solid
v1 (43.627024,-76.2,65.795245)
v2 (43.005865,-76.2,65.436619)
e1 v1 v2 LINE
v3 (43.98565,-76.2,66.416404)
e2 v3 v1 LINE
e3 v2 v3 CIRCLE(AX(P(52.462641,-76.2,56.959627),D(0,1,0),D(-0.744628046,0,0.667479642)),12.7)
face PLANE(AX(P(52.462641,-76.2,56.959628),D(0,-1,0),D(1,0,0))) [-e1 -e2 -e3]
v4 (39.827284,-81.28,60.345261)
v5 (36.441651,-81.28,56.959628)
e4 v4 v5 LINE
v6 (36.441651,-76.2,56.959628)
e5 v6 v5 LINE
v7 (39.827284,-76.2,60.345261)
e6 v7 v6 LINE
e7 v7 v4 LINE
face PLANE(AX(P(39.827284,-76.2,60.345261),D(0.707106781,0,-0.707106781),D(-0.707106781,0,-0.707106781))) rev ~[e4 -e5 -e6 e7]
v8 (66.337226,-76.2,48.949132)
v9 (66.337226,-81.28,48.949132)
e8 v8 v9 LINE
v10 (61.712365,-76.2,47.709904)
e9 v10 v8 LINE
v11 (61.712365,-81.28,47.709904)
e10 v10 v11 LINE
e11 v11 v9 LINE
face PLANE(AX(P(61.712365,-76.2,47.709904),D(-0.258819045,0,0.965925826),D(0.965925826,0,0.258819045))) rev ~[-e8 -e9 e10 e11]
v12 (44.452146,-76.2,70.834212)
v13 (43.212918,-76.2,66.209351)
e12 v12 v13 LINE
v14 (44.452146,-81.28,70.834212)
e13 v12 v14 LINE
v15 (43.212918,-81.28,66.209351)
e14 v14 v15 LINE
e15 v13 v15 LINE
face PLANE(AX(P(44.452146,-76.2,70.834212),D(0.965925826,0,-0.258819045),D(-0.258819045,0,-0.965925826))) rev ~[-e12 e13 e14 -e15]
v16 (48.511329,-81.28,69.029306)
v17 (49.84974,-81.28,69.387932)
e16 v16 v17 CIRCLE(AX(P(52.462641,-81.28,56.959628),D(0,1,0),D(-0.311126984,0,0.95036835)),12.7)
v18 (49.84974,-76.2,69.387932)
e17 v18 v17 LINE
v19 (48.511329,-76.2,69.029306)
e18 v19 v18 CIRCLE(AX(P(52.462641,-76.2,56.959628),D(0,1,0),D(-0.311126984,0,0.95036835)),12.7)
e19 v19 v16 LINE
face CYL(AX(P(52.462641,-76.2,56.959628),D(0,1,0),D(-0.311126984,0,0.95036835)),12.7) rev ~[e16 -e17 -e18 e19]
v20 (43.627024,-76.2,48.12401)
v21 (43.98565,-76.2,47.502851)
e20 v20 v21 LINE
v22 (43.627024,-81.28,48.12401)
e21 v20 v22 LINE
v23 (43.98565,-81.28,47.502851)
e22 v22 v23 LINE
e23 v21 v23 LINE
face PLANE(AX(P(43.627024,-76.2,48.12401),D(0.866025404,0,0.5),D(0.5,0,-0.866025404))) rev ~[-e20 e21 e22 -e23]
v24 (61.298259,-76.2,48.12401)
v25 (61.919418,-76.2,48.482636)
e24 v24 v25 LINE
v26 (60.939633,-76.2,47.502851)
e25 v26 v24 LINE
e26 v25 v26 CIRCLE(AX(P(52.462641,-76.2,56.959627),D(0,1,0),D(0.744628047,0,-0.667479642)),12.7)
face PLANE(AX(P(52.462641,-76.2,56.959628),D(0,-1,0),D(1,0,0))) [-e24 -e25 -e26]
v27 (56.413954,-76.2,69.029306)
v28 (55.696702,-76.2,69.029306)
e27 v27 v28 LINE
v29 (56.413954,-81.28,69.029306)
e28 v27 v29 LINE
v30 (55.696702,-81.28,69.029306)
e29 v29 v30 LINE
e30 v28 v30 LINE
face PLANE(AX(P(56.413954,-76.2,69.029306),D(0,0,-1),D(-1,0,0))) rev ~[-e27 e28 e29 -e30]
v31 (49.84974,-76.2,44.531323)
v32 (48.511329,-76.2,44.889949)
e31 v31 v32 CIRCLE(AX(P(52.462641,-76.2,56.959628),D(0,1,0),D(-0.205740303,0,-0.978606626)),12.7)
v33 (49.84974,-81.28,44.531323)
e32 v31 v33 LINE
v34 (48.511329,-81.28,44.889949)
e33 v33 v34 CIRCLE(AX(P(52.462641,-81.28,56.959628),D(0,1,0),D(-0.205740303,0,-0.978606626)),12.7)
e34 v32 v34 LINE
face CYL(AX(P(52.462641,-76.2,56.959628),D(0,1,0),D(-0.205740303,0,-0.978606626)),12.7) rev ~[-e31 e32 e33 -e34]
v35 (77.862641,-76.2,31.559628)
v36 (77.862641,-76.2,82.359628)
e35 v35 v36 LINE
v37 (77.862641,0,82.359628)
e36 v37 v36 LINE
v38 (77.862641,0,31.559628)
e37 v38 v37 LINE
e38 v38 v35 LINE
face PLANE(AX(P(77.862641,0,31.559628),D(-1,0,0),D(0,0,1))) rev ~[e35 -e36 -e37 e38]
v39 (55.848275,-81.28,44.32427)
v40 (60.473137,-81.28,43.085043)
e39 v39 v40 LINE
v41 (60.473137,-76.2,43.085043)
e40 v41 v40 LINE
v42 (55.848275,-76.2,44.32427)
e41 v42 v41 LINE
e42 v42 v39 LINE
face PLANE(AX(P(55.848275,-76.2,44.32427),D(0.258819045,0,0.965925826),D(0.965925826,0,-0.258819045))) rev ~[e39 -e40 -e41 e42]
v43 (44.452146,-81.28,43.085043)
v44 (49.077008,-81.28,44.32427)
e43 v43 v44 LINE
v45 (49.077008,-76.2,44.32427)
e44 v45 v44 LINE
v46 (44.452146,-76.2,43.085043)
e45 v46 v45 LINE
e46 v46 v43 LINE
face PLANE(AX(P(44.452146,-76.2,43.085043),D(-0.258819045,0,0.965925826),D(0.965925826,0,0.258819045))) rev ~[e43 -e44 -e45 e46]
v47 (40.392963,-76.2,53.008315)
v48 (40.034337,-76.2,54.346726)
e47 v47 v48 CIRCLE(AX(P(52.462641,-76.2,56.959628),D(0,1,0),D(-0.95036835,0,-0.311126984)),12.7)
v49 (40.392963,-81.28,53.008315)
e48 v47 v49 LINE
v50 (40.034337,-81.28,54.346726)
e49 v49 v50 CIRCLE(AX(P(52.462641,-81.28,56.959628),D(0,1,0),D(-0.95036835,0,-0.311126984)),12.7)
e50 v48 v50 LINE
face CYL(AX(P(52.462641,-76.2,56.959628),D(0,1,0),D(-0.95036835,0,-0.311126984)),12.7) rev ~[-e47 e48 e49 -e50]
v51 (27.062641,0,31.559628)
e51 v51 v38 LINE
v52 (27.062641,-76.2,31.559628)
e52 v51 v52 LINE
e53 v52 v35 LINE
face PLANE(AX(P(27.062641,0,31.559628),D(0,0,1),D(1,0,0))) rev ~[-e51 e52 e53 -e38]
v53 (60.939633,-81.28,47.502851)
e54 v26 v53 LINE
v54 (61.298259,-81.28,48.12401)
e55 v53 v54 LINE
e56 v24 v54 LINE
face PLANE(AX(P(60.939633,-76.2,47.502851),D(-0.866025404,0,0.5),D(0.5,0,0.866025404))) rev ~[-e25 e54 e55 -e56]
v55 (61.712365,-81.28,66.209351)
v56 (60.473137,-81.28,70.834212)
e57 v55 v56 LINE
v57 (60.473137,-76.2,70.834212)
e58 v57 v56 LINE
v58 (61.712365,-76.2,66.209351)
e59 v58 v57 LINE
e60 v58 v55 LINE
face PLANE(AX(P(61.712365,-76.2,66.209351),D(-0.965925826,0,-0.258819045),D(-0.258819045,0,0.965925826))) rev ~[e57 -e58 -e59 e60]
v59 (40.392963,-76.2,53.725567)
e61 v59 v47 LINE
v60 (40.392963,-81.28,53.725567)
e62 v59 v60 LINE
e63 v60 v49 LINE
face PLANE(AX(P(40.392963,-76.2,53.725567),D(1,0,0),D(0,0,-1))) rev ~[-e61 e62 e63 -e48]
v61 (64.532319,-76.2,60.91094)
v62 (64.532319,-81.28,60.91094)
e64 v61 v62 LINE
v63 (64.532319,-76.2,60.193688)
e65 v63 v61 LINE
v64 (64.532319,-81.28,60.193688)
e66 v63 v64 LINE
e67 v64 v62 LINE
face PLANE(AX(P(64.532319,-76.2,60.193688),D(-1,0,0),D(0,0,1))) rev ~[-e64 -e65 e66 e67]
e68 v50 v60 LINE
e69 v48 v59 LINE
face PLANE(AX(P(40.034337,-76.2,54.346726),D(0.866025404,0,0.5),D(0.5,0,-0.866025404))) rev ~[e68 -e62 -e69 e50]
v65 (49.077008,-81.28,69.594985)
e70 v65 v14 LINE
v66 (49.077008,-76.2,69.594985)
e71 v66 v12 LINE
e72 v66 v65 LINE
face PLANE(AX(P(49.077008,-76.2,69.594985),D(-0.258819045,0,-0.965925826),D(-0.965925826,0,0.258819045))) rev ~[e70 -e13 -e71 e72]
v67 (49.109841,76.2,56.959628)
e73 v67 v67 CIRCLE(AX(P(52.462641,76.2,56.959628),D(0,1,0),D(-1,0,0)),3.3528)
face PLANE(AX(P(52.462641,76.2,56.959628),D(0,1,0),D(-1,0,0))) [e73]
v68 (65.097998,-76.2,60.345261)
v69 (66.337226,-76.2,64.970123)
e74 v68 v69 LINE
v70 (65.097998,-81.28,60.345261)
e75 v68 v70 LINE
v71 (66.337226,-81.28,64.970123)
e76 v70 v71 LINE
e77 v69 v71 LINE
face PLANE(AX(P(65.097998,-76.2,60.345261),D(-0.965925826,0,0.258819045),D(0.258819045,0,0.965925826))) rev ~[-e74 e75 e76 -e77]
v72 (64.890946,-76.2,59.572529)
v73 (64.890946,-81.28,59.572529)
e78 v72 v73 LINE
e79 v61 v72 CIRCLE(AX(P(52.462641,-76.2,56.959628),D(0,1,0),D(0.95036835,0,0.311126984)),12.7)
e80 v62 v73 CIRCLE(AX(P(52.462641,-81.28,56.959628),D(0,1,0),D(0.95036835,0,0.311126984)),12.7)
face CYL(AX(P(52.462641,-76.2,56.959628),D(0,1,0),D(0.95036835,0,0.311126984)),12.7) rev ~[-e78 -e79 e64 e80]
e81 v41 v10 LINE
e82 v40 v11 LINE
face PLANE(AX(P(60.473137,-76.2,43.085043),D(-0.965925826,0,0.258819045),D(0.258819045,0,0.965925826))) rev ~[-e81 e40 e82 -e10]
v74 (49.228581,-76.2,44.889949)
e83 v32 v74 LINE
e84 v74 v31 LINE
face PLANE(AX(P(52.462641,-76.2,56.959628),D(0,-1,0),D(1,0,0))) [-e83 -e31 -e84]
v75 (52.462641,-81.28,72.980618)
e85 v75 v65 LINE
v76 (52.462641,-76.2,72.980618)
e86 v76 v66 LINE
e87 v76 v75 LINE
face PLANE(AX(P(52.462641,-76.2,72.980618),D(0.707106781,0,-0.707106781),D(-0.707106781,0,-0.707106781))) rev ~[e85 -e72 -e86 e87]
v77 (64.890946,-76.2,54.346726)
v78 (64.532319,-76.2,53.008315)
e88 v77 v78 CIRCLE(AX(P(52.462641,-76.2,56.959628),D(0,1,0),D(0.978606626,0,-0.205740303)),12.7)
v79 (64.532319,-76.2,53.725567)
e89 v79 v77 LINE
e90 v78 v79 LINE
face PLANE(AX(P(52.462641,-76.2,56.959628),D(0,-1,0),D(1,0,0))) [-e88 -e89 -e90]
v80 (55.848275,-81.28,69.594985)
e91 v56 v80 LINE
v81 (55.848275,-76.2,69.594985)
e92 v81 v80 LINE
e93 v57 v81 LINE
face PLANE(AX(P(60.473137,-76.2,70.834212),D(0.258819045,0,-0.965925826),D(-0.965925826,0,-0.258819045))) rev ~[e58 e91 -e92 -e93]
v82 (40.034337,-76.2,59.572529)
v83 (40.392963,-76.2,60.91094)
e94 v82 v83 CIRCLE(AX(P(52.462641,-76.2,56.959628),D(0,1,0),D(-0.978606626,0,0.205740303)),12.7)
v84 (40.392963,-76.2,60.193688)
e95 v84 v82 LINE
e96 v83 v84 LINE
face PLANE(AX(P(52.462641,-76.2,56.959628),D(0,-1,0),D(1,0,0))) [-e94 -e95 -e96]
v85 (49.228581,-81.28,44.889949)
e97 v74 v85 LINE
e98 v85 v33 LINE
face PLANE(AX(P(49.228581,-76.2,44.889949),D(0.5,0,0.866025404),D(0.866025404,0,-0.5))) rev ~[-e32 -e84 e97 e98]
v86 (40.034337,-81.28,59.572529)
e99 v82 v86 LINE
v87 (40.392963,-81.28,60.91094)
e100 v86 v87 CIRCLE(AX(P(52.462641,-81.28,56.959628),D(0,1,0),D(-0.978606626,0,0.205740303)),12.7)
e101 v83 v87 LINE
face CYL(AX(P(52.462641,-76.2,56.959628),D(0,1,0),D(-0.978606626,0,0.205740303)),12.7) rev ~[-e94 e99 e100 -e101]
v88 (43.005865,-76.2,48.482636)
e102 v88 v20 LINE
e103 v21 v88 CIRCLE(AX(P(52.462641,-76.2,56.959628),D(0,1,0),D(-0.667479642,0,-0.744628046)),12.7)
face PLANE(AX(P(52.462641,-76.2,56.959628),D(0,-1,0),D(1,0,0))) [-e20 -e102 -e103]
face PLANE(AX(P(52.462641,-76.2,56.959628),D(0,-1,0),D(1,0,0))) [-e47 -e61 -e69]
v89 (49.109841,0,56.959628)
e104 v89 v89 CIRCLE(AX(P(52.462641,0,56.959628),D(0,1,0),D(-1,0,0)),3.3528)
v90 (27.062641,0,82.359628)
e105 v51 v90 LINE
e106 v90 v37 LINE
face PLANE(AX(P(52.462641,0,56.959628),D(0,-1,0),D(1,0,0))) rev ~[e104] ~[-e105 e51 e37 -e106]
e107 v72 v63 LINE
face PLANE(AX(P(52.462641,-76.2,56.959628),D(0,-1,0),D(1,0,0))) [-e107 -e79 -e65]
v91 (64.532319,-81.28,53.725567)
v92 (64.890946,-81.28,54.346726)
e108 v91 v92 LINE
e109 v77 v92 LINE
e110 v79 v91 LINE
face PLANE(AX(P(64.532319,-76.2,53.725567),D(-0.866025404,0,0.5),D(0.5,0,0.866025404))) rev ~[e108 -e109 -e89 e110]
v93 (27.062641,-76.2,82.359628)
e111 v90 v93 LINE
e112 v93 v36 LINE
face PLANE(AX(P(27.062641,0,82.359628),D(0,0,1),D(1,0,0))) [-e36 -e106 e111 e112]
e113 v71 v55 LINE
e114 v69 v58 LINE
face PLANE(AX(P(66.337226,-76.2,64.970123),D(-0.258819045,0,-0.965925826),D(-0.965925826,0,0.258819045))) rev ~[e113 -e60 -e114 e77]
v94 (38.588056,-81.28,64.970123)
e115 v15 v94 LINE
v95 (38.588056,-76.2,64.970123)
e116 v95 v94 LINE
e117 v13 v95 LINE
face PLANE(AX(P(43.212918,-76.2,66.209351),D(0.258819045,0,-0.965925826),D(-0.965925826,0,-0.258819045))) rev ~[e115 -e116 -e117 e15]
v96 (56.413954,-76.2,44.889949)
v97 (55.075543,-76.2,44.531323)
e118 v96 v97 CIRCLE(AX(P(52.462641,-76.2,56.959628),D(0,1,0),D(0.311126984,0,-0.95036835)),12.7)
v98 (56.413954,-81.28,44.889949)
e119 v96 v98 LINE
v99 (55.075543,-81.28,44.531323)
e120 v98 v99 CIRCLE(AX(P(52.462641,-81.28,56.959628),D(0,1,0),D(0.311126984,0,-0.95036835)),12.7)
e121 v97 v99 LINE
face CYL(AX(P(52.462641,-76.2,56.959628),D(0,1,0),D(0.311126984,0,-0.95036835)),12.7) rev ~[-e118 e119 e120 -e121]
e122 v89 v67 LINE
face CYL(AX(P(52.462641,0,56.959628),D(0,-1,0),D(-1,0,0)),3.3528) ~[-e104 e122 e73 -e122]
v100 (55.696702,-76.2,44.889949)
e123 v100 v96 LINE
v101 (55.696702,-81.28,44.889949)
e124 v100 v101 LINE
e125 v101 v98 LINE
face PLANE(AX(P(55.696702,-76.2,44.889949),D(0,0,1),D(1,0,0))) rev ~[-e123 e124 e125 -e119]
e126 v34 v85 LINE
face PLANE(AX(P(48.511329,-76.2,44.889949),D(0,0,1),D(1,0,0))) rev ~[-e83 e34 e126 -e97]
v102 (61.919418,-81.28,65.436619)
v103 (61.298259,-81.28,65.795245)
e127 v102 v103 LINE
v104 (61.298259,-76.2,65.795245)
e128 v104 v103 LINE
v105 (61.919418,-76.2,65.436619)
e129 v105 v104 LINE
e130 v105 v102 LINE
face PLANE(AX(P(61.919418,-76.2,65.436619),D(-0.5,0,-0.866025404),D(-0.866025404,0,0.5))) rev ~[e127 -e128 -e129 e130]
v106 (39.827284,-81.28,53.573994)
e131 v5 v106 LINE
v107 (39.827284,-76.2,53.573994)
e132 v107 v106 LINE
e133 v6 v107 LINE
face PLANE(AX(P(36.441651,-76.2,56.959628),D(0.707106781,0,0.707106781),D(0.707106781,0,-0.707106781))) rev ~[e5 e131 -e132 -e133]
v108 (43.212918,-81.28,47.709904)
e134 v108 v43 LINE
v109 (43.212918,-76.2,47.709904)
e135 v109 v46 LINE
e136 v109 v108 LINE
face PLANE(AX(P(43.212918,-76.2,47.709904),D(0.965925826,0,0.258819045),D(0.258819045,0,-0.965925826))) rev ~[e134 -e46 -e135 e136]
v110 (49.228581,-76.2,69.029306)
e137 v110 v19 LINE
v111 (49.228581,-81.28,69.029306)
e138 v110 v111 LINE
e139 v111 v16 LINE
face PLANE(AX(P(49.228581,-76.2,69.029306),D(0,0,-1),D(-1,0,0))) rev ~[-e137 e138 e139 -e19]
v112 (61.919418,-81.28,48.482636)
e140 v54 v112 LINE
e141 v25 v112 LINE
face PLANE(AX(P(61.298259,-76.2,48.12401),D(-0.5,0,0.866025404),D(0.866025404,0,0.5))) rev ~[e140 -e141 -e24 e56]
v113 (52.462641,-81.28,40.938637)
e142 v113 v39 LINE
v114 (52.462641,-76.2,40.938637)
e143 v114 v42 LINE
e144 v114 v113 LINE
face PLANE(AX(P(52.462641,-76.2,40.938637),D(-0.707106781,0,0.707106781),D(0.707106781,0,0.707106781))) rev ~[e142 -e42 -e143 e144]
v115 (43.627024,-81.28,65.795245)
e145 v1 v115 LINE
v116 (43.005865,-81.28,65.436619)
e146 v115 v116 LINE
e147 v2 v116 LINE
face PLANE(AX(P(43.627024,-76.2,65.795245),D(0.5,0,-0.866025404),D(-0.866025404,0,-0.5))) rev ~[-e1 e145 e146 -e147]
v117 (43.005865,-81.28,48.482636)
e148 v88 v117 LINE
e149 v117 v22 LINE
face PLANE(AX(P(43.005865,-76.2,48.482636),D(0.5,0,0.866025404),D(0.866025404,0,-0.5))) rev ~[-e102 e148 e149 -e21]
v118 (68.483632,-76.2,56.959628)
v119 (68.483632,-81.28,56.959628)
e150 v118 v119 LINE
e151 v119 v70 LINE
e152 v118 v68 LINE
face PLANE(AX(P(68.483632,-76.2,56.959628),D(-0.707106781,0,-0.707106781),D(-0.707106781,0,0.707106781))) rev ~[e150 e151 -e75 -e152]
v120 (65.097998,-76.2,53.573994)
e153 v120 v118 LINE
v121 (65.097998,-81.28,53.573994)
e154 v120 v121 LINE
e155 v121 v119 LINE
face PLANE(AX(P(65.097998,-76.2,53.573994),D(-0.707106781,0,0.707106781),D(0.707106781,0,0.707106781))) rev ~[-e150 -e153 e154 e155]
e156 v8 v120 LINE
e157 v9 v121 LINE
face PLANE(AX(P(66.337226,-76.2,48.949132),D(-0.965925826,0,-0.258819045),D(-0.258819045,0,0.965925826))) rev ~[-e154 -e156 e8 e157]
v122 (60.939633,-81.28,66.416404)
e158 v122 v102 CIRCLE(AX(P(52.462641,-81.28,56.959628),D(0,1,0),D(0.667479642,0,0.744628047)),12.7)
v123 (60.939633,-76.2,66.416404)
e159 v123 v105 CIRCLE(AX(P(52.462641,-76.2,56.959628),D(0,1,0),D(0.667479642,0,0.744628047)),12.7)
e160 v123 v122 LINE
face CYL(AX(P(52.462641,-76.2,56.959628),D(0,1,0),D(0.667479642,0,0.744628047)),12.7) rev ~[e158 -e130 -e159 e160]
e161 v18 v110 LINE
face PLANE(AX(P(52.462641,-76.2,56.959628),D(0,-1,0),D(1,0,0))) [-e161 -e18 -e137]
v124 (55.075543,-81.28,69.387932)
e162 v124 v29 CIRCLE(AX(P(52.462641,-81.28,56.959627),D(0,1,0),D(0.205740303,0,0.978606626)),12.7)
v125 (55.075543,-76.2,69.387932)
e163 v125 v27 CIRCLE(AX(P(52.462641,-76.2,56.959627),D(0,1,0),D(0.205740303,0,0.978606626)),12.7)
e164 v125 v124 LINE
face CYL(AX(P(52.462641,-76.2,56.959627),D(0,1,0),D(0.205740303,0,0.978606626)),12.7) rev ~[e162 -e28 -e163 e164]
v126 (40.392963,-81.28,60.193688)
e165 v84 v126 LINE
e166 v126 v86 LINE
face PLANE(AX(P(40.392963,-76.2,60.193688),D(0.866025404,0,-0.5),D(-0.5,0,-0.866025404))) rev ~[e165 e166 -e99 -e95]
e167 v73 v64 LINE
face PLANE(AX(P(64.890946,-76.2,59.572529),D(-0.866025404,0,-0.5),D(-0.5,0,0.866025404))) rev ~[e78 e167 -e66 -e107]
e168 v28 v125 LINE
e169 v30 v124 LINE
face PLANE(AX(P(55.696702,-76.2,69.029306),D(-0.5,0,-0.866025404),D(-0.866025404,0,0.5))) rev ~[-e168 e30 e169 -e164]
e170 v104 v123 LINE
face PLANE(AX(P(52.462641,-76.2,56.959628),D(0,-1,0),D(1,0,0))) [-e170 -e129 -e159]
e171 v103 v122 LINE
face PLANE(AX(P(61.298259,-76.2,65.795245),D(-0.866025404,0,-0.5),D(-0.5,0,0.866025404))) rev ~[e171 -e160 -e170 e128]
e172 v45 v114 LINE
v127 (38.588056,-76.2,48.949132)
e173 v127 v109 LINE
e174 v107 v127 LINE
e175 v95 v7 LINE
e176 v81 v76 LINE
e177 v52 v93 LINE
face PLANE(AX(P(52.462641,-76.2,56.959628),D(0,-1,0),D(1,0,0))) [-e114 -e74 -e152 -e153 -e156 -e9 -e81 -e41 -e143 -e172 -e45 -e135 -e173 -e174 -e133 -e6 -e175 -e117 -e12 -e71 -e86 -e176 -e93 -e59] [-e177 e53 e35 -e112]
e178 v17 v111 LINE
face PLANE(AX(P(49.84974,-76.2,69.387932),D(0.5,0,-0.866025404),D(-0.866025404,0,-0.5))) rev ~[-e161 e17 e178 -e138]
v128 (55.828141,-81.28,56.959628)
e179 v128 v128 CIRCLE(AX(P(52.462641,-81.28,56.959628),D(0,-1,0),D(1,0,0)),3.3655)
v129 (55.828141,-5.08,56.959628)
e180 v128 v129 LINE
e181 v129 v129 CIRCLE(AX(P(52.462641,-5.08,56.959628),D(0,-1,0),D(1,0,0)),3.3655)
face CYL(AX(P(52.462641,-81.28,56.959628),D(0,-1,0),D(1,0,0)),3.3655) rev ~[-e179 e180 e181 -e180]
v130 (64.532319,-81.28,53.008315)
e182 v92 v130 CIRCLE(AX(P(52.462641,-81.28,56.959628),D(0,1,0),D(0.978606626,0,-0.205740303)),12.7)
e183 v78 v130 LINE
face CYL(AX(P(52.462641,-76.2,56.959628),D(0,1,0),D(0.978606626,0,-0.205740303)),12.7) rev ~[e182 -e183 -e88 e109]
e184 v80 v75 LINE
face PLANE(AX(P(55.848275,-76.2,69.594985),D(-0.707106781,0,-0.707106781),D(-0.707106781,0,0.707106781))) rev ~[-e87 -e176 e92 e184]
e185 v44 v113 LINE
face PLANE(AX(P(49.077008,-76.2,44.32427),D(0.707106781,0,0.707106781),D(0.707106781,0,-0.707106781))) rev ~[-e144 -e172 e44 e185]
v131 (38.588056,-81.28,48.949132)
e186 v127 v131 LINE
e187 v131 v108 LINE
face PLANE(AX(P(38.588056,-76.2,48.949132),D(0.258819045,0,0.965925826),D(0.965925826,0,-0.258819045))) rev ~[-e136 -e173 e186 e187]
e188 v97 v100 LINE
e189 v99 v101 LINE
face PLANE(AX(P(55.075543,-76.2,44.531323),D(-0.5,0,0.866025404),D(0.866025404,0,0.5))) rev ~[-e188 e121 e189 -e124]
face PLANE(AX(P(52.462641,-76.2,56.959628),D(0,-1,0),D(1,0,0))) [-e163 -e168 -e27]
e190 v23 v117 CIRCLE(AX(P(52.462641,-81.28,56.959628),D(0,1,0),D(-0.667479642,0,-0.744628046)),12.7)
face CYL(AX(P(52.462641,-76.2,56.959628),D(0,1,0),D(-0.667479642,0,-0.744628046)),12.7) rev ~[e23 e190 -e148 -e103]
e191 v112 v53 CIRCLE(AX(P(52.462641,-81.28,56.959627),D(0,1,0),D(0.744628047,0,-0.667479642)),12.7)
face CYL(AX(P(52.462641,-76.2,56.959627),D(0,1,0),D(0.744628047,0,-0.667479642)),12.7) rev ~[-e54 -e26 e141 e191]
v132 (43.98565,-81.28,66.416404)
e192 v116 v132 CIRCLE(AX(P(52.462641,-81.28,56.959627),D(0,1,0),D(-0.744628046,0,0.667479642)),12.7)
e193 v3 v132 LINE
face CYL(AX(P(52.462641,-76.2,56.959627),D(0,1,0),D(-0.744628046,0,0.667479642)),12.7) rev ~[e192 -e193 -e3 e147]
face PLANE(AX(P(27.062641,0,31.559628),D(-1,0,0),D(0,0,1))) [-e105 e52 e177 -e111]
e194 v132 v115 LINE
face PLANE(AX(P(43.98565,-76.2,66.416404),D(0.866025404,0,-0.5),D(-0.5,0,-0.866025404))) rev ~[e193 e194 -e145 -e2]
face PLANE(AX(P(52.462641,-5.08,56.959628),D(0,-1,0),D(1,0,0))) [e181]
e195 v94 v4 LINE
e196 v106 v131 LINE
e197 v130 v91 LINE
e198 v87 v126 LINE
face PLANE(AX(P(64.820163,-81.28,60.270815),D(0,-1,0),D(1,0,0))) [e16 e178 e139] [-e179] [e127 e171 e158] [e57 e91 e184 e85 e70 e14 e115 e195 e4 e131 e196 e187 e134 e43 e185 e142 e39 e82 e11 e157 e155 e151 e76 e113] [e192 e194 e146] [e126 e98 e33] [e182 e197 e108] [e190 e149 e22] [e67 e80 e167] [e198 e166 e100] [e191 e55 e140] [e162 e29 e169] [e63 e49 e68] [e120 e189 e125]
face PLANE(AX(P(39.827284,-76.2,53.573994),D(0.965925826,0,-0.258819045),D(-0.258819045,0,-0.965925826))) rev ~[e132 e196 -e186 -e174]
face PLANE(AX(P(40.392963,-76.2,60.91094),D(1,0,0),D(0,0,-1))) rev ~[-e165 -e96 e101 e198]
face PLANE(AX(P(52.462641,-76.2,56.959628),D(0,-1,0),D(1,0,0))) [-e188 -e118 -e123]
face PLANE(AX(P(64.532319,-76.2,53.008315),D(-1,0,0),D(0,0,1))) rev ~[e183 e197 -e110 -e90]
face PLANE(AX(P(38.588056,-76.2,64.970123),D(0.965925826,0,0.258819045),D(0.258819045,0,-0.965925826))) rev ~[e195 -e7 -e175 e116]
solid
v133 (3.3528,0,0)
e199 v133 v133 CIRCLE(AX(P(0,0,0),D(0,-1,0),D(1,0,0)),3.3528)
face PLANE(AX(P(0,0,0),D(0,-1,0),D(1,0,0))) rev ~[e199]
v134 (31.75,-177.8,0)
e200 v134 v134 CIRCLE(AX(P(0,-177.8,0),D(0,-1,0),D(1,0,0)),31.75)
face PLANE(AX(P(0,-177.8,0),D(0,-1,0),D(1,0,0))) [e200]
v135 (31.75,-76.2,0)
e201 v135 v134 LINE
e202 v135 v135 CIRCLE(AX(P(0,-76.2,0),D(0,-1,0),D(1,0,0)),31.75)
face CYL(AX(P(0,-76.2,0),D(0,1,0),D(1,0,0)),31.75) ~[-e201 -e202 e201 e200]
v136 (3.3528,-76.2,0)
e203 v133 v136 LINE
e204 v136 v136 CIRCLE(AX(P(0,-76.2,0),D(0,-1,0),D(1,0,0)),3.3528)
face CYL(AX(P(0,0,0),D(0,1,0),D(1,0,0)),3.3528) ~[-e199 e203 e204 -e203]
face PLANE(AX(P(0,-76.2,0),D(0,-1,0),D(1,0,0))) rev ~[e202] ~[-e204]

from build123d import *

# Parameters (mm, degrees)
F0_R      = 3.3528
F1_DEPTH  = 76.2
F2_R      = 31.75
F3_DEPTH  = 101.6
F4_W      = 50.8
F4_H      = 50.8
F5_DEPTH  = 76.2
F6_R      = 3.3528
F7_DEPTH  = 76.2
F9_DEPTH  = 5.08
F10_R     = 3.3655
F11_DEPTH = 76.2


with BuildPart() as f1:
    # F0 (on Front) → F1 (new body)
    with BuildSketch(Plane.XZ):
        Circle(F0_R)
    extrude(amount=F1_DEPTH)

    # F2 (on face) → F3 (join)
    with BuildSketch(Plane.XZ.offset(76.2)):
        Circle(F2_R)
    extrude(amount=F3_DEPTH)


with BuildPart() as f5:
    # F4 (on Front) → F5 (new body)
    with BuildSketch(Plane.XZ):
        with Locations((52.4626414567, 56.9596275032)):
            Rectangle(F4_W, F4_H)
    extrude(amount=F5_DEPTH)

    # F6 (on face) → F7 (join)
    with BuildSketch(Plane(origin=(0, 0, 0), x_dir=(-1, 0, 0), z_dir=(0, 1, 0))):
        with Locations((-52.4626414567, 56.9596275032)):
            Circle(F6_R)
    extrude(amount=F7_DEPTH)

    # F8 (on face) → F9 (join)
    with BuildSketch(Plane.XZ.offset(76.2)):
        with BuildLine():
            ThreePointArc((64.5323194972, 60.9109401964), (64.7298994506, 60.246629376), (64.8909456019, 59.5725293527))
            Line((64.8909456019, 59.5725293527), (65.09799848, 60.3452612136))
            Line((65.09799848, 60.3452612136), (64.5323194972, 60.9109401964))
        make_face()
        with BuildLine():
            ThreePointArc((60.9396329086, 66.416403694), (61.4428975778, 65.9398836242), (61.9194176476, 65.436618955))
            Line((61.9194176476, 65.436618955), (61.7123647695, 66.209350816))
            Line((61.7123647695, 66.209350816), (60.9396329086, 66.416403694))
        make_face()
        with BuildLine():
            ThreePointArc((55.0755433063, 69.3879316483), (55.7496433295, 69.226885497), (56.41395415, 69.0293055436))
            Line((56.41395415, 69.0293055436), (55.8482751672, 69.5949845264))
            Line((55.8482751672, 69.5949845264), (55.0755433063, 69.3879316483))
        make_face()
        with BuildLine():
            Line((49.0770077463, 69.5949845264), (48.5113287635, 69.0293055436))
            ThreePointArc((48.5113287635, 69.0293055436), (49.1756395839, 69.226885497), (49.8497396072, 69.3879316483))
            Line((49.8497396072, 69.3879316483), (49.0770077463, 69.5949845264))
        make_face()
        with BuildLine():
            ThreePointArc((43.0058652658, 65.436618955), (43.4823853357, 65.9398836242), (43.9856500048, 66.416403694))
            Line((43.9856500048, 66.416403694), (43.2129181439, 66.209350816))
            Line((43.2129181439, 66.209350816), (43.0058652658, 65.436618955))
        make_face()
        with BuildLine():
            ThreePointArc((40.0343373116, 59.5725293527), (40.1953834629, 60.246629376), (40.3929634163, 60.9109401964))
            Line((40.3929634163, 60.9109401964), (39.8272844335, 60.3452612136))
            Line((39.8272844335, 60.3452612136), (40.0343373116, 59.5725293527))
        make_face()
        with BuildLine():
            Line((39.8272844335, 53.5739937927), (40.3929634163, 53.0083148099))
            ThreePointArc((40.3929634163, 53.0083148099), (40.1953834629, 53.6726256304), (40.0343373116, 54.3467256536))
            Line((40.0343373116, 54.3467256536), (39.8272844335, 53.5739937927))
        make_face()
        with BuildLine():
            Line((43.2129181439, 47.7099041904), (43.9856500048, 47.5028513123))
            ThreePointArc((43.9856500048, 47.5028513123), (43.4823853357, 47.9793713821), (43.0058652658, 48.4826360513))
            Line((43.0058652658, 48.4826360513), (43.2129181439, 47.7099041904))
        make_face()
        with BuildLine():
            Line((49.0770077463, 44.3242704799), (49.8497396072, 44.531323358))
            ThreePointArc((49.8497396072, 44.531323358), (49.1756395839, 44.6923695093), (48.5113287635, 44.8899494627))
            Line((48.5113287635, 44.8899494627), (49.0770077463, 44.3242704799))
        make_face()
        with BuildLine():
            Line((55.8482751672, 44.3242704799), (56.41395415, 44.8899494627))
            ThreePointArc((56.41395415, 44.8899494627), (55.7496433295, 44.6923695093), (55.0755433063, 44.531323358))
            Line((55.0755433063, 44.531323358), (55.8482751672, 44.3242704799))
        make_face()
        with BuildLine():
            Line((61.7123647695, 47.7099041904), (61.9194176476, 48.4826360513))
            ThreePointArc((61.9194176476, 48.4826360513), (61.4428975778, 47.9793713821), (60.9396329086, 47.5028513123))
            Line((60.9396329086, 47.5028513123), (61.7123647695, 47.7099041904))
        make_face()
        with BuildLine():
            Line((65.09799848, 53.5739937927), (64.8909456019, 54.3467256536))
            ThreePointArc((64.8909456019, 54.3467256536), (64.7298994506, 53.6726256304), (64.5323194972, 53.0083148099))
            Line((64.5323194972, 53.0083148099), (65.09799848, 53.5739937927))
        make_face()
        with BuildLine():
            ThreePointArc((61.9194176476, 65.436618955), (63.4611640848, 63.3096275032), (64.5323194972, 60.9109401964))
            Line((64.5323194972, 60.9109401964), (65.09799848, 60.3452612136))
            Line((65.09799848, 60.3452612136), (66.3372264259, 64.97012287))
            Line((66.3372264259, 64.97012287), (61.7123647695, 66.209350816))
            Line((61.7123647695, 66.209350816), (61.9194176476, 65.436618955))
        make_face()
        with BuildLine():
            ThreePointArc((56.41395415, 69.0293055436), (58.8126414567, 67.9581501312), (60.9396329086, 66.416403694))
            Line((60.9396329086, 66.416403694), (61.7123647695, 66.209350816))
            Line((61.7123647695, 66.209350816), (60.4731368236, 70.8342124723))
            Line((60.4731368236, 70.8342124723), (55.8482751672, 69.5949845264))
            Line((55.8482751672, 69.5949845264), (56.41395415, 69.0293055436))
        make_face()
        with BuildLine():
            ThreePointArc((49.8497396072, 69.3879316483), (52.4626414567, 69.6596275032), (55.0755433063, 69.3879316483))
            Line((55.0755433063, 69.3879316483), (55.8482751672, 69.5949845264))
            Line((55.8482751672, 69.5949845264), (52.4626414567, 72.9806182369))
            Line((52.4626414567, 72.9806182369), (49.0770077463, 69.5949845264))
            Line((49.0770077463, 69.5949845264), (49.8497396072, 69.3879316483))
        make_face()
        with BuildLine():
            ThreePointArc((40.3929634163, 60.9109401964), (41.4641188287, 63.3096275032), (43.0058652658, 65.436618955))
            Line((43.0058652658, 65.436618955), (43.2129181439, 66.209350816))
            Line((43.2129181439, 66.209350816), (38.5880564875, 64.97012287))
            Line((38.5880564875, 64.97012287), (39.8272844335, 60.3452612136))
            Line((39.8272844335, 60.3452612136), (40.3929634163, 60.9109401964))
        make_face()
        with BuildLine():
            ThreePointArc((40.0343373116, 54.3467256536), (39.7626414567, 56.9596275032), (40.0343373116, 59.5725293527))
            Line((40.0343373116, 59.5725293527), (39.8272844335, 60.3452612136))
            Line((39.8272844335, 60.3452612136), (36.441650723, 56.9596275032))
            Line((36.441650723, 56.9596275032), (39.8272844335, 53.5739937927))
            Line((39.8272844335, 53.5739937927), (40.0343373116, 54.3467256536))
        make_face()
        with BuildLine():
            Line((43.2129181439, 47.7099041904), (43.0058652658, 48.4826360513))
            ThreePointArc((43.0058652658, 48.4826360513), (41.4641188287, 50.6096275032), (40.3929634163, 53.0083148099))
            Line((40.3929634163, 53.0083148099), (39.8272844335, 53.5739937927))
            Line((39.8272844335, 53.5739937927), (38.5880564875, 48.9491321363))
            Line((38.5880564875, 48.9491321363), (43.2129181439, 47.7099041904))
        make_face()
        with BuildLine():
            Line((49.0770077463, 44.3242704799), (48.5113287635, 44.8899494627))
            ThreePointArc((48.5113287635, 44.8899494627), (46.1126414567, 45.9611048751), (43.9856500048, 47.5028513123))
            Line((43.9856500048, 47.5028513123), (43.2129181439, 47.7099041904))
            Line((43.2129181439, 47.7099041904), (44.4521460899, 43.085042534))
            Line((44.4521460899, 43.085042534), (49.0770077463, 44.3242704799))
        make_face()
        with BuildLine():
            Line((55.8482751672, 44.3242704799), (55.0755433063, 44.531323358))
            ThreePointArc((55.0755433063, 44.531323358), (52.4626414567, 44.2596275032), (49.8497396072, 44.531323358))
            Line((49.8497396072, 44.531323358), (49.0770077463, 44.3242704799))
            Line((49.0770077463, 44.3242704799), (52.4626414567, 40.9386367694))
            Line((52.4626414567, 40.9386367694), (55.8482751672, 44.3242704799))
        make_face()
        with BuildLine():
            Line((61.7123647695, 47.7099041904), (60.9396329086, 47.5028513123))
            ThreePointArc((60.9396329086, 47.5028513123), (58.8126414567, 45.9611048751), (56.41395415, 44.8899494627))
            Line((56.41395415, 44.8899494627), (55.8482751672, 44.3242704799))
            Line((55.8482751672, 44.3242704799), (60.4731368236, 43.085042534))
            Line((60.4731368236, 43.085042534), (61.7123647695, 47.7099041904))
        make_face()
        with BuildLine():
            Line((65.09799848, 53.5739937927), (64.5323194972, 53.0083148099))
            ThreePointArc((64.5323194972, 53.0083148099), (63.4611640848, 50.6096275032), (61.9194176476, 48.4826360513))
            Line((61.9194176476, 48.4826360513), (61.7123647695, 47.7099041904))
            Line((61.7123647695, 47.7099041904), (66.3372264259, 48.9491321363))
            Line((66.3372264259, 48.9491321363), (65.09799848, 53.5739937927))
        make_face()
        with BuildLine():
            ThreePointArc((64.8909456019, 59.5725293527), (65.0945348746, 58.2731223369), (65.1626414567, 56.9596275032))
            ThreePointArc((65.1626414567, 56.9596275032), (65.0945348746, 55.6461326694), (64.8909456019, 54.3467256536))
            Line((64.8909456019, 54.3467256536), (65.09799848, 53.5739937927))
            Line((65.09799848, 53.5739937927), (68.4836321904, 56.9596275032))
            Line((68.4836321904, 56.9596275032), (65.09799848, 60.3452612136))
            Line((65.09799848, 60.3452612136), (64.8909456019, 59.5725293527))
        make_face()
        Polygon((64.5323194972, 53.7255670193), (64.5323194972, 60.193687987), (61.2982590133, 65.7952450598), (55.6967019406, 69.0293055436), (49.2285809729, 69.0293055436), (43.6270239001, 65.7952450598), (40.3929634163, 60.193687987), (40.3929634163, 53.7255670193), (43.6270239001, 48.1240099466), (49.2285809729, 44.8899494627), (55.6967019406, 44.8899494627), (61.2982590133, 48.1240099466), align=None)
        with BuildLine():
            Line((43.6270239001, 65.7952450598), (49.2285809729, 69.0293055436))
            Line((49.2285809729, 69.0293055436), (48.5113287635, 69.0293055436))
            ThreePointArc((48.5113287635, 69.0293055436), (46.1126414567, 67.9581501312), (43.9856500048, 66.416403694))
            Line((43.9856500048, 66.416403694), (43.6270239001, 65.7952450598))
        make_face()
        with BuildLine():
            ThreePointArc((43.9856500048, 66.416403694), (46.1126414567, 67.9581501312), (48.5113287635, 69.0293055436))
            Line((48.5113287635, 69.0293055436), (49.0770077463, 69.5949845264))
            Line((49.0770077463, 69.5949845264), (44.4521460899, 70.8342124723))
            Line((44.4521460899, 70.8342124723), (43.2129181439, 66.209350816))
            Line((43.2129181439, 66.209350816), (43.9856500048, 66.416403694))
        make_face()
        with BuildLine():
            Line((49.2285809729, 69.0293055436), (55.6967019406, 69.0293055436))
            Line((55.6967019406, 69.0293055436), (55.0755433063, 69.3879316483))
            ThreePointArc((55.0755433063, 69.3879316483), (52.4626414567, 69.6596275032), (49.8497396072, 69.3879316483))
            Line((49.8497396072, 69.3879316483), (49.2285809729, 69.0293055436))
        make_face()
        with BuildLine():
            Line((55.6967019406, 69.0293055436), (61.2982590133, 65.7952450598))
            Line((61.2982590133, 65.7952450598), (60.9396329086, 66.416403694))
            ThreePointArc((60.9396329086, 66.416403694), (58.8126414567, 67.9581501312), (56.41395415, 69.0293055436))
            Line((56.41395415, 69.0293055436), (55.6967019406, 69.0293055436))
        make_face()
        with BuildLine():
            Line((64.5323194972, 60.193687987), (64.5323194972, 60.9109401964))
            ThreePointArc((64.5323194972, 60.9109401964), (63.4611640848, 63.3096275032), (61.9194176476, 65.436618955))
            Line((61.9194176476, 65.436618955), (61.2982590133, 65.7952450598))
            Line((61.2982590133, 65.7952450598), (64.5323194972, 60.193687987))
        make_face()
        with BuildLine():
            ThreePointArc((64.8909456019, 54.3467256536), (65.0945348746, 55.6461326694), (65.1626414567, 56.9596275032))
            ThreePointArc((65.1626414567, 56.9596275032), (65.0945348746, 58.2731223369), (64.8909456019, 59.5725293527))
            Line((64.8909456019, 59.5725293527), (64.5323194972, 60.193687987))
            Line((64.5323194972, 60.193687987), (64.5323194972, 53.7255670193))
            Line((64.5323194972, 53.7255670193), (64.8909456019, 54.3467256536))
        make_face()
        with BuildLine():
            ThreePointArc((61.9194176476, 48.4826360513), (63.4611640848, 50.6096275032), (64.5323194972, 53.0083148099))
            Line((64.5323194972, 53.0083148099), (64.5323194972, 53.7255670193))
            Line((64.5323194972, 53.7255670193), (61.2982590133, 48.1240099466))
            Line((61.2982590133, 48.1240099466), (61.9194176476, 48.4826360513))
        make_face()
        with BuildLine():
            Line((60.9396329086, 47.5028513123), (61.2982590133, 48.1240099466))
            Line((61.2982590133, 48.1240099466), (55.6967019406, 44.8899494627))
            Line((55.6967019406, 44.8899494627), (56.41395415, 44.8899494627))
            ThreePointArc((56.41395415, 44.8899494627), (58.8126414567, 45.9611048751), (60.9396329086, 47.5028513123))
        make_face()
        with BuildLine():
            Line((55.0755433063, 44.531323358), (55.6967019406, 44.8899494627))
            Line((55.6967019406, 44.8899494627), (49.2285809729, 44.8899494627))
            Line((49.2285809729, 44.8899494627), (49.8497396072, 44.531323358))
            ThreePointArc((49.8497396072, 44.531323358), (52.4626414567, 44.2596275032), (55.0755433063, 44.531323358))
        make_face()
        with BuildLine():
            Line((48.5113287635, 44.8899494627), (49.2285809729, 44.8899494627))
            Line((49.2285809729, 44.8899494627), (43.6270239001, 48.1240099466))
            Line((43.6270239001, 48.1240099466), (43.9856500048, 47.5028513123))
            ThreePointArc((43.9856500048, 47.5028513123), (46.1126414567, 45.9611048751), (48.5113287635, 44.8899494627))
        make_face()
        with BuildLine():
            Line((43.0058652658, 48.4826360513), (43.6270239001, 48.1240099466))
            Line((43.6270239001, 48.1240099466), (40.3929634163, 53.7255670193))
            Line((40.3929634163, 53.7255670193), (40.3929634163, 53.0083148099))
            ThreePointArc((40.3929634163, 53.0083148099), (41.4641188287, 50.6096275032), (43.0058652658, 48.4826360513))
        make_face()
        with BuildLine():
            Line((40.3929634163, 53.7255670193), (40.3929634163, 60.193687987))
            Line((40.3929634163, 60.193687987), (40.0343373116, 59.5725293527))
            ThreePointArc((40.0343373116, 59.5725293527), (39.7626414567, 56.9596275032), (40.0343373116, 54.3467256536))
            Line((40.0343373116, 54.3467256536), (40.3929634163, 53.7255670193))
        make_face()
        with BuildLine():
            Line((40.3929634163, 60.193687987), (43.6270239001, 65.7952450598))
            Line((43.6270239001, 65.7952450598), (43.0058652658, 65.436618955))
            ThreePointArc((43.0058652658, 65.436618955), (41.4641188287, 63.3096275032), (40.3929634163, 60.9109401964))
            Line((40.3929634163, 60.9109401964), (40.3929634163, 60.193687987))
        make_face()
    extrude(amount=F9_DEPTH)

    # F10 (on face) → F11 (cut)
    with BuildSketch(Plane.XZ.offset(81.28)):
        with Locations((52.4626414567, 56.9596275032)):
            Circle(F10_R)
    extrude(amount=-F11_DEPTH, mode=Mode.SUBTRACT)


solid = Compound([f1.part, f5.part])
